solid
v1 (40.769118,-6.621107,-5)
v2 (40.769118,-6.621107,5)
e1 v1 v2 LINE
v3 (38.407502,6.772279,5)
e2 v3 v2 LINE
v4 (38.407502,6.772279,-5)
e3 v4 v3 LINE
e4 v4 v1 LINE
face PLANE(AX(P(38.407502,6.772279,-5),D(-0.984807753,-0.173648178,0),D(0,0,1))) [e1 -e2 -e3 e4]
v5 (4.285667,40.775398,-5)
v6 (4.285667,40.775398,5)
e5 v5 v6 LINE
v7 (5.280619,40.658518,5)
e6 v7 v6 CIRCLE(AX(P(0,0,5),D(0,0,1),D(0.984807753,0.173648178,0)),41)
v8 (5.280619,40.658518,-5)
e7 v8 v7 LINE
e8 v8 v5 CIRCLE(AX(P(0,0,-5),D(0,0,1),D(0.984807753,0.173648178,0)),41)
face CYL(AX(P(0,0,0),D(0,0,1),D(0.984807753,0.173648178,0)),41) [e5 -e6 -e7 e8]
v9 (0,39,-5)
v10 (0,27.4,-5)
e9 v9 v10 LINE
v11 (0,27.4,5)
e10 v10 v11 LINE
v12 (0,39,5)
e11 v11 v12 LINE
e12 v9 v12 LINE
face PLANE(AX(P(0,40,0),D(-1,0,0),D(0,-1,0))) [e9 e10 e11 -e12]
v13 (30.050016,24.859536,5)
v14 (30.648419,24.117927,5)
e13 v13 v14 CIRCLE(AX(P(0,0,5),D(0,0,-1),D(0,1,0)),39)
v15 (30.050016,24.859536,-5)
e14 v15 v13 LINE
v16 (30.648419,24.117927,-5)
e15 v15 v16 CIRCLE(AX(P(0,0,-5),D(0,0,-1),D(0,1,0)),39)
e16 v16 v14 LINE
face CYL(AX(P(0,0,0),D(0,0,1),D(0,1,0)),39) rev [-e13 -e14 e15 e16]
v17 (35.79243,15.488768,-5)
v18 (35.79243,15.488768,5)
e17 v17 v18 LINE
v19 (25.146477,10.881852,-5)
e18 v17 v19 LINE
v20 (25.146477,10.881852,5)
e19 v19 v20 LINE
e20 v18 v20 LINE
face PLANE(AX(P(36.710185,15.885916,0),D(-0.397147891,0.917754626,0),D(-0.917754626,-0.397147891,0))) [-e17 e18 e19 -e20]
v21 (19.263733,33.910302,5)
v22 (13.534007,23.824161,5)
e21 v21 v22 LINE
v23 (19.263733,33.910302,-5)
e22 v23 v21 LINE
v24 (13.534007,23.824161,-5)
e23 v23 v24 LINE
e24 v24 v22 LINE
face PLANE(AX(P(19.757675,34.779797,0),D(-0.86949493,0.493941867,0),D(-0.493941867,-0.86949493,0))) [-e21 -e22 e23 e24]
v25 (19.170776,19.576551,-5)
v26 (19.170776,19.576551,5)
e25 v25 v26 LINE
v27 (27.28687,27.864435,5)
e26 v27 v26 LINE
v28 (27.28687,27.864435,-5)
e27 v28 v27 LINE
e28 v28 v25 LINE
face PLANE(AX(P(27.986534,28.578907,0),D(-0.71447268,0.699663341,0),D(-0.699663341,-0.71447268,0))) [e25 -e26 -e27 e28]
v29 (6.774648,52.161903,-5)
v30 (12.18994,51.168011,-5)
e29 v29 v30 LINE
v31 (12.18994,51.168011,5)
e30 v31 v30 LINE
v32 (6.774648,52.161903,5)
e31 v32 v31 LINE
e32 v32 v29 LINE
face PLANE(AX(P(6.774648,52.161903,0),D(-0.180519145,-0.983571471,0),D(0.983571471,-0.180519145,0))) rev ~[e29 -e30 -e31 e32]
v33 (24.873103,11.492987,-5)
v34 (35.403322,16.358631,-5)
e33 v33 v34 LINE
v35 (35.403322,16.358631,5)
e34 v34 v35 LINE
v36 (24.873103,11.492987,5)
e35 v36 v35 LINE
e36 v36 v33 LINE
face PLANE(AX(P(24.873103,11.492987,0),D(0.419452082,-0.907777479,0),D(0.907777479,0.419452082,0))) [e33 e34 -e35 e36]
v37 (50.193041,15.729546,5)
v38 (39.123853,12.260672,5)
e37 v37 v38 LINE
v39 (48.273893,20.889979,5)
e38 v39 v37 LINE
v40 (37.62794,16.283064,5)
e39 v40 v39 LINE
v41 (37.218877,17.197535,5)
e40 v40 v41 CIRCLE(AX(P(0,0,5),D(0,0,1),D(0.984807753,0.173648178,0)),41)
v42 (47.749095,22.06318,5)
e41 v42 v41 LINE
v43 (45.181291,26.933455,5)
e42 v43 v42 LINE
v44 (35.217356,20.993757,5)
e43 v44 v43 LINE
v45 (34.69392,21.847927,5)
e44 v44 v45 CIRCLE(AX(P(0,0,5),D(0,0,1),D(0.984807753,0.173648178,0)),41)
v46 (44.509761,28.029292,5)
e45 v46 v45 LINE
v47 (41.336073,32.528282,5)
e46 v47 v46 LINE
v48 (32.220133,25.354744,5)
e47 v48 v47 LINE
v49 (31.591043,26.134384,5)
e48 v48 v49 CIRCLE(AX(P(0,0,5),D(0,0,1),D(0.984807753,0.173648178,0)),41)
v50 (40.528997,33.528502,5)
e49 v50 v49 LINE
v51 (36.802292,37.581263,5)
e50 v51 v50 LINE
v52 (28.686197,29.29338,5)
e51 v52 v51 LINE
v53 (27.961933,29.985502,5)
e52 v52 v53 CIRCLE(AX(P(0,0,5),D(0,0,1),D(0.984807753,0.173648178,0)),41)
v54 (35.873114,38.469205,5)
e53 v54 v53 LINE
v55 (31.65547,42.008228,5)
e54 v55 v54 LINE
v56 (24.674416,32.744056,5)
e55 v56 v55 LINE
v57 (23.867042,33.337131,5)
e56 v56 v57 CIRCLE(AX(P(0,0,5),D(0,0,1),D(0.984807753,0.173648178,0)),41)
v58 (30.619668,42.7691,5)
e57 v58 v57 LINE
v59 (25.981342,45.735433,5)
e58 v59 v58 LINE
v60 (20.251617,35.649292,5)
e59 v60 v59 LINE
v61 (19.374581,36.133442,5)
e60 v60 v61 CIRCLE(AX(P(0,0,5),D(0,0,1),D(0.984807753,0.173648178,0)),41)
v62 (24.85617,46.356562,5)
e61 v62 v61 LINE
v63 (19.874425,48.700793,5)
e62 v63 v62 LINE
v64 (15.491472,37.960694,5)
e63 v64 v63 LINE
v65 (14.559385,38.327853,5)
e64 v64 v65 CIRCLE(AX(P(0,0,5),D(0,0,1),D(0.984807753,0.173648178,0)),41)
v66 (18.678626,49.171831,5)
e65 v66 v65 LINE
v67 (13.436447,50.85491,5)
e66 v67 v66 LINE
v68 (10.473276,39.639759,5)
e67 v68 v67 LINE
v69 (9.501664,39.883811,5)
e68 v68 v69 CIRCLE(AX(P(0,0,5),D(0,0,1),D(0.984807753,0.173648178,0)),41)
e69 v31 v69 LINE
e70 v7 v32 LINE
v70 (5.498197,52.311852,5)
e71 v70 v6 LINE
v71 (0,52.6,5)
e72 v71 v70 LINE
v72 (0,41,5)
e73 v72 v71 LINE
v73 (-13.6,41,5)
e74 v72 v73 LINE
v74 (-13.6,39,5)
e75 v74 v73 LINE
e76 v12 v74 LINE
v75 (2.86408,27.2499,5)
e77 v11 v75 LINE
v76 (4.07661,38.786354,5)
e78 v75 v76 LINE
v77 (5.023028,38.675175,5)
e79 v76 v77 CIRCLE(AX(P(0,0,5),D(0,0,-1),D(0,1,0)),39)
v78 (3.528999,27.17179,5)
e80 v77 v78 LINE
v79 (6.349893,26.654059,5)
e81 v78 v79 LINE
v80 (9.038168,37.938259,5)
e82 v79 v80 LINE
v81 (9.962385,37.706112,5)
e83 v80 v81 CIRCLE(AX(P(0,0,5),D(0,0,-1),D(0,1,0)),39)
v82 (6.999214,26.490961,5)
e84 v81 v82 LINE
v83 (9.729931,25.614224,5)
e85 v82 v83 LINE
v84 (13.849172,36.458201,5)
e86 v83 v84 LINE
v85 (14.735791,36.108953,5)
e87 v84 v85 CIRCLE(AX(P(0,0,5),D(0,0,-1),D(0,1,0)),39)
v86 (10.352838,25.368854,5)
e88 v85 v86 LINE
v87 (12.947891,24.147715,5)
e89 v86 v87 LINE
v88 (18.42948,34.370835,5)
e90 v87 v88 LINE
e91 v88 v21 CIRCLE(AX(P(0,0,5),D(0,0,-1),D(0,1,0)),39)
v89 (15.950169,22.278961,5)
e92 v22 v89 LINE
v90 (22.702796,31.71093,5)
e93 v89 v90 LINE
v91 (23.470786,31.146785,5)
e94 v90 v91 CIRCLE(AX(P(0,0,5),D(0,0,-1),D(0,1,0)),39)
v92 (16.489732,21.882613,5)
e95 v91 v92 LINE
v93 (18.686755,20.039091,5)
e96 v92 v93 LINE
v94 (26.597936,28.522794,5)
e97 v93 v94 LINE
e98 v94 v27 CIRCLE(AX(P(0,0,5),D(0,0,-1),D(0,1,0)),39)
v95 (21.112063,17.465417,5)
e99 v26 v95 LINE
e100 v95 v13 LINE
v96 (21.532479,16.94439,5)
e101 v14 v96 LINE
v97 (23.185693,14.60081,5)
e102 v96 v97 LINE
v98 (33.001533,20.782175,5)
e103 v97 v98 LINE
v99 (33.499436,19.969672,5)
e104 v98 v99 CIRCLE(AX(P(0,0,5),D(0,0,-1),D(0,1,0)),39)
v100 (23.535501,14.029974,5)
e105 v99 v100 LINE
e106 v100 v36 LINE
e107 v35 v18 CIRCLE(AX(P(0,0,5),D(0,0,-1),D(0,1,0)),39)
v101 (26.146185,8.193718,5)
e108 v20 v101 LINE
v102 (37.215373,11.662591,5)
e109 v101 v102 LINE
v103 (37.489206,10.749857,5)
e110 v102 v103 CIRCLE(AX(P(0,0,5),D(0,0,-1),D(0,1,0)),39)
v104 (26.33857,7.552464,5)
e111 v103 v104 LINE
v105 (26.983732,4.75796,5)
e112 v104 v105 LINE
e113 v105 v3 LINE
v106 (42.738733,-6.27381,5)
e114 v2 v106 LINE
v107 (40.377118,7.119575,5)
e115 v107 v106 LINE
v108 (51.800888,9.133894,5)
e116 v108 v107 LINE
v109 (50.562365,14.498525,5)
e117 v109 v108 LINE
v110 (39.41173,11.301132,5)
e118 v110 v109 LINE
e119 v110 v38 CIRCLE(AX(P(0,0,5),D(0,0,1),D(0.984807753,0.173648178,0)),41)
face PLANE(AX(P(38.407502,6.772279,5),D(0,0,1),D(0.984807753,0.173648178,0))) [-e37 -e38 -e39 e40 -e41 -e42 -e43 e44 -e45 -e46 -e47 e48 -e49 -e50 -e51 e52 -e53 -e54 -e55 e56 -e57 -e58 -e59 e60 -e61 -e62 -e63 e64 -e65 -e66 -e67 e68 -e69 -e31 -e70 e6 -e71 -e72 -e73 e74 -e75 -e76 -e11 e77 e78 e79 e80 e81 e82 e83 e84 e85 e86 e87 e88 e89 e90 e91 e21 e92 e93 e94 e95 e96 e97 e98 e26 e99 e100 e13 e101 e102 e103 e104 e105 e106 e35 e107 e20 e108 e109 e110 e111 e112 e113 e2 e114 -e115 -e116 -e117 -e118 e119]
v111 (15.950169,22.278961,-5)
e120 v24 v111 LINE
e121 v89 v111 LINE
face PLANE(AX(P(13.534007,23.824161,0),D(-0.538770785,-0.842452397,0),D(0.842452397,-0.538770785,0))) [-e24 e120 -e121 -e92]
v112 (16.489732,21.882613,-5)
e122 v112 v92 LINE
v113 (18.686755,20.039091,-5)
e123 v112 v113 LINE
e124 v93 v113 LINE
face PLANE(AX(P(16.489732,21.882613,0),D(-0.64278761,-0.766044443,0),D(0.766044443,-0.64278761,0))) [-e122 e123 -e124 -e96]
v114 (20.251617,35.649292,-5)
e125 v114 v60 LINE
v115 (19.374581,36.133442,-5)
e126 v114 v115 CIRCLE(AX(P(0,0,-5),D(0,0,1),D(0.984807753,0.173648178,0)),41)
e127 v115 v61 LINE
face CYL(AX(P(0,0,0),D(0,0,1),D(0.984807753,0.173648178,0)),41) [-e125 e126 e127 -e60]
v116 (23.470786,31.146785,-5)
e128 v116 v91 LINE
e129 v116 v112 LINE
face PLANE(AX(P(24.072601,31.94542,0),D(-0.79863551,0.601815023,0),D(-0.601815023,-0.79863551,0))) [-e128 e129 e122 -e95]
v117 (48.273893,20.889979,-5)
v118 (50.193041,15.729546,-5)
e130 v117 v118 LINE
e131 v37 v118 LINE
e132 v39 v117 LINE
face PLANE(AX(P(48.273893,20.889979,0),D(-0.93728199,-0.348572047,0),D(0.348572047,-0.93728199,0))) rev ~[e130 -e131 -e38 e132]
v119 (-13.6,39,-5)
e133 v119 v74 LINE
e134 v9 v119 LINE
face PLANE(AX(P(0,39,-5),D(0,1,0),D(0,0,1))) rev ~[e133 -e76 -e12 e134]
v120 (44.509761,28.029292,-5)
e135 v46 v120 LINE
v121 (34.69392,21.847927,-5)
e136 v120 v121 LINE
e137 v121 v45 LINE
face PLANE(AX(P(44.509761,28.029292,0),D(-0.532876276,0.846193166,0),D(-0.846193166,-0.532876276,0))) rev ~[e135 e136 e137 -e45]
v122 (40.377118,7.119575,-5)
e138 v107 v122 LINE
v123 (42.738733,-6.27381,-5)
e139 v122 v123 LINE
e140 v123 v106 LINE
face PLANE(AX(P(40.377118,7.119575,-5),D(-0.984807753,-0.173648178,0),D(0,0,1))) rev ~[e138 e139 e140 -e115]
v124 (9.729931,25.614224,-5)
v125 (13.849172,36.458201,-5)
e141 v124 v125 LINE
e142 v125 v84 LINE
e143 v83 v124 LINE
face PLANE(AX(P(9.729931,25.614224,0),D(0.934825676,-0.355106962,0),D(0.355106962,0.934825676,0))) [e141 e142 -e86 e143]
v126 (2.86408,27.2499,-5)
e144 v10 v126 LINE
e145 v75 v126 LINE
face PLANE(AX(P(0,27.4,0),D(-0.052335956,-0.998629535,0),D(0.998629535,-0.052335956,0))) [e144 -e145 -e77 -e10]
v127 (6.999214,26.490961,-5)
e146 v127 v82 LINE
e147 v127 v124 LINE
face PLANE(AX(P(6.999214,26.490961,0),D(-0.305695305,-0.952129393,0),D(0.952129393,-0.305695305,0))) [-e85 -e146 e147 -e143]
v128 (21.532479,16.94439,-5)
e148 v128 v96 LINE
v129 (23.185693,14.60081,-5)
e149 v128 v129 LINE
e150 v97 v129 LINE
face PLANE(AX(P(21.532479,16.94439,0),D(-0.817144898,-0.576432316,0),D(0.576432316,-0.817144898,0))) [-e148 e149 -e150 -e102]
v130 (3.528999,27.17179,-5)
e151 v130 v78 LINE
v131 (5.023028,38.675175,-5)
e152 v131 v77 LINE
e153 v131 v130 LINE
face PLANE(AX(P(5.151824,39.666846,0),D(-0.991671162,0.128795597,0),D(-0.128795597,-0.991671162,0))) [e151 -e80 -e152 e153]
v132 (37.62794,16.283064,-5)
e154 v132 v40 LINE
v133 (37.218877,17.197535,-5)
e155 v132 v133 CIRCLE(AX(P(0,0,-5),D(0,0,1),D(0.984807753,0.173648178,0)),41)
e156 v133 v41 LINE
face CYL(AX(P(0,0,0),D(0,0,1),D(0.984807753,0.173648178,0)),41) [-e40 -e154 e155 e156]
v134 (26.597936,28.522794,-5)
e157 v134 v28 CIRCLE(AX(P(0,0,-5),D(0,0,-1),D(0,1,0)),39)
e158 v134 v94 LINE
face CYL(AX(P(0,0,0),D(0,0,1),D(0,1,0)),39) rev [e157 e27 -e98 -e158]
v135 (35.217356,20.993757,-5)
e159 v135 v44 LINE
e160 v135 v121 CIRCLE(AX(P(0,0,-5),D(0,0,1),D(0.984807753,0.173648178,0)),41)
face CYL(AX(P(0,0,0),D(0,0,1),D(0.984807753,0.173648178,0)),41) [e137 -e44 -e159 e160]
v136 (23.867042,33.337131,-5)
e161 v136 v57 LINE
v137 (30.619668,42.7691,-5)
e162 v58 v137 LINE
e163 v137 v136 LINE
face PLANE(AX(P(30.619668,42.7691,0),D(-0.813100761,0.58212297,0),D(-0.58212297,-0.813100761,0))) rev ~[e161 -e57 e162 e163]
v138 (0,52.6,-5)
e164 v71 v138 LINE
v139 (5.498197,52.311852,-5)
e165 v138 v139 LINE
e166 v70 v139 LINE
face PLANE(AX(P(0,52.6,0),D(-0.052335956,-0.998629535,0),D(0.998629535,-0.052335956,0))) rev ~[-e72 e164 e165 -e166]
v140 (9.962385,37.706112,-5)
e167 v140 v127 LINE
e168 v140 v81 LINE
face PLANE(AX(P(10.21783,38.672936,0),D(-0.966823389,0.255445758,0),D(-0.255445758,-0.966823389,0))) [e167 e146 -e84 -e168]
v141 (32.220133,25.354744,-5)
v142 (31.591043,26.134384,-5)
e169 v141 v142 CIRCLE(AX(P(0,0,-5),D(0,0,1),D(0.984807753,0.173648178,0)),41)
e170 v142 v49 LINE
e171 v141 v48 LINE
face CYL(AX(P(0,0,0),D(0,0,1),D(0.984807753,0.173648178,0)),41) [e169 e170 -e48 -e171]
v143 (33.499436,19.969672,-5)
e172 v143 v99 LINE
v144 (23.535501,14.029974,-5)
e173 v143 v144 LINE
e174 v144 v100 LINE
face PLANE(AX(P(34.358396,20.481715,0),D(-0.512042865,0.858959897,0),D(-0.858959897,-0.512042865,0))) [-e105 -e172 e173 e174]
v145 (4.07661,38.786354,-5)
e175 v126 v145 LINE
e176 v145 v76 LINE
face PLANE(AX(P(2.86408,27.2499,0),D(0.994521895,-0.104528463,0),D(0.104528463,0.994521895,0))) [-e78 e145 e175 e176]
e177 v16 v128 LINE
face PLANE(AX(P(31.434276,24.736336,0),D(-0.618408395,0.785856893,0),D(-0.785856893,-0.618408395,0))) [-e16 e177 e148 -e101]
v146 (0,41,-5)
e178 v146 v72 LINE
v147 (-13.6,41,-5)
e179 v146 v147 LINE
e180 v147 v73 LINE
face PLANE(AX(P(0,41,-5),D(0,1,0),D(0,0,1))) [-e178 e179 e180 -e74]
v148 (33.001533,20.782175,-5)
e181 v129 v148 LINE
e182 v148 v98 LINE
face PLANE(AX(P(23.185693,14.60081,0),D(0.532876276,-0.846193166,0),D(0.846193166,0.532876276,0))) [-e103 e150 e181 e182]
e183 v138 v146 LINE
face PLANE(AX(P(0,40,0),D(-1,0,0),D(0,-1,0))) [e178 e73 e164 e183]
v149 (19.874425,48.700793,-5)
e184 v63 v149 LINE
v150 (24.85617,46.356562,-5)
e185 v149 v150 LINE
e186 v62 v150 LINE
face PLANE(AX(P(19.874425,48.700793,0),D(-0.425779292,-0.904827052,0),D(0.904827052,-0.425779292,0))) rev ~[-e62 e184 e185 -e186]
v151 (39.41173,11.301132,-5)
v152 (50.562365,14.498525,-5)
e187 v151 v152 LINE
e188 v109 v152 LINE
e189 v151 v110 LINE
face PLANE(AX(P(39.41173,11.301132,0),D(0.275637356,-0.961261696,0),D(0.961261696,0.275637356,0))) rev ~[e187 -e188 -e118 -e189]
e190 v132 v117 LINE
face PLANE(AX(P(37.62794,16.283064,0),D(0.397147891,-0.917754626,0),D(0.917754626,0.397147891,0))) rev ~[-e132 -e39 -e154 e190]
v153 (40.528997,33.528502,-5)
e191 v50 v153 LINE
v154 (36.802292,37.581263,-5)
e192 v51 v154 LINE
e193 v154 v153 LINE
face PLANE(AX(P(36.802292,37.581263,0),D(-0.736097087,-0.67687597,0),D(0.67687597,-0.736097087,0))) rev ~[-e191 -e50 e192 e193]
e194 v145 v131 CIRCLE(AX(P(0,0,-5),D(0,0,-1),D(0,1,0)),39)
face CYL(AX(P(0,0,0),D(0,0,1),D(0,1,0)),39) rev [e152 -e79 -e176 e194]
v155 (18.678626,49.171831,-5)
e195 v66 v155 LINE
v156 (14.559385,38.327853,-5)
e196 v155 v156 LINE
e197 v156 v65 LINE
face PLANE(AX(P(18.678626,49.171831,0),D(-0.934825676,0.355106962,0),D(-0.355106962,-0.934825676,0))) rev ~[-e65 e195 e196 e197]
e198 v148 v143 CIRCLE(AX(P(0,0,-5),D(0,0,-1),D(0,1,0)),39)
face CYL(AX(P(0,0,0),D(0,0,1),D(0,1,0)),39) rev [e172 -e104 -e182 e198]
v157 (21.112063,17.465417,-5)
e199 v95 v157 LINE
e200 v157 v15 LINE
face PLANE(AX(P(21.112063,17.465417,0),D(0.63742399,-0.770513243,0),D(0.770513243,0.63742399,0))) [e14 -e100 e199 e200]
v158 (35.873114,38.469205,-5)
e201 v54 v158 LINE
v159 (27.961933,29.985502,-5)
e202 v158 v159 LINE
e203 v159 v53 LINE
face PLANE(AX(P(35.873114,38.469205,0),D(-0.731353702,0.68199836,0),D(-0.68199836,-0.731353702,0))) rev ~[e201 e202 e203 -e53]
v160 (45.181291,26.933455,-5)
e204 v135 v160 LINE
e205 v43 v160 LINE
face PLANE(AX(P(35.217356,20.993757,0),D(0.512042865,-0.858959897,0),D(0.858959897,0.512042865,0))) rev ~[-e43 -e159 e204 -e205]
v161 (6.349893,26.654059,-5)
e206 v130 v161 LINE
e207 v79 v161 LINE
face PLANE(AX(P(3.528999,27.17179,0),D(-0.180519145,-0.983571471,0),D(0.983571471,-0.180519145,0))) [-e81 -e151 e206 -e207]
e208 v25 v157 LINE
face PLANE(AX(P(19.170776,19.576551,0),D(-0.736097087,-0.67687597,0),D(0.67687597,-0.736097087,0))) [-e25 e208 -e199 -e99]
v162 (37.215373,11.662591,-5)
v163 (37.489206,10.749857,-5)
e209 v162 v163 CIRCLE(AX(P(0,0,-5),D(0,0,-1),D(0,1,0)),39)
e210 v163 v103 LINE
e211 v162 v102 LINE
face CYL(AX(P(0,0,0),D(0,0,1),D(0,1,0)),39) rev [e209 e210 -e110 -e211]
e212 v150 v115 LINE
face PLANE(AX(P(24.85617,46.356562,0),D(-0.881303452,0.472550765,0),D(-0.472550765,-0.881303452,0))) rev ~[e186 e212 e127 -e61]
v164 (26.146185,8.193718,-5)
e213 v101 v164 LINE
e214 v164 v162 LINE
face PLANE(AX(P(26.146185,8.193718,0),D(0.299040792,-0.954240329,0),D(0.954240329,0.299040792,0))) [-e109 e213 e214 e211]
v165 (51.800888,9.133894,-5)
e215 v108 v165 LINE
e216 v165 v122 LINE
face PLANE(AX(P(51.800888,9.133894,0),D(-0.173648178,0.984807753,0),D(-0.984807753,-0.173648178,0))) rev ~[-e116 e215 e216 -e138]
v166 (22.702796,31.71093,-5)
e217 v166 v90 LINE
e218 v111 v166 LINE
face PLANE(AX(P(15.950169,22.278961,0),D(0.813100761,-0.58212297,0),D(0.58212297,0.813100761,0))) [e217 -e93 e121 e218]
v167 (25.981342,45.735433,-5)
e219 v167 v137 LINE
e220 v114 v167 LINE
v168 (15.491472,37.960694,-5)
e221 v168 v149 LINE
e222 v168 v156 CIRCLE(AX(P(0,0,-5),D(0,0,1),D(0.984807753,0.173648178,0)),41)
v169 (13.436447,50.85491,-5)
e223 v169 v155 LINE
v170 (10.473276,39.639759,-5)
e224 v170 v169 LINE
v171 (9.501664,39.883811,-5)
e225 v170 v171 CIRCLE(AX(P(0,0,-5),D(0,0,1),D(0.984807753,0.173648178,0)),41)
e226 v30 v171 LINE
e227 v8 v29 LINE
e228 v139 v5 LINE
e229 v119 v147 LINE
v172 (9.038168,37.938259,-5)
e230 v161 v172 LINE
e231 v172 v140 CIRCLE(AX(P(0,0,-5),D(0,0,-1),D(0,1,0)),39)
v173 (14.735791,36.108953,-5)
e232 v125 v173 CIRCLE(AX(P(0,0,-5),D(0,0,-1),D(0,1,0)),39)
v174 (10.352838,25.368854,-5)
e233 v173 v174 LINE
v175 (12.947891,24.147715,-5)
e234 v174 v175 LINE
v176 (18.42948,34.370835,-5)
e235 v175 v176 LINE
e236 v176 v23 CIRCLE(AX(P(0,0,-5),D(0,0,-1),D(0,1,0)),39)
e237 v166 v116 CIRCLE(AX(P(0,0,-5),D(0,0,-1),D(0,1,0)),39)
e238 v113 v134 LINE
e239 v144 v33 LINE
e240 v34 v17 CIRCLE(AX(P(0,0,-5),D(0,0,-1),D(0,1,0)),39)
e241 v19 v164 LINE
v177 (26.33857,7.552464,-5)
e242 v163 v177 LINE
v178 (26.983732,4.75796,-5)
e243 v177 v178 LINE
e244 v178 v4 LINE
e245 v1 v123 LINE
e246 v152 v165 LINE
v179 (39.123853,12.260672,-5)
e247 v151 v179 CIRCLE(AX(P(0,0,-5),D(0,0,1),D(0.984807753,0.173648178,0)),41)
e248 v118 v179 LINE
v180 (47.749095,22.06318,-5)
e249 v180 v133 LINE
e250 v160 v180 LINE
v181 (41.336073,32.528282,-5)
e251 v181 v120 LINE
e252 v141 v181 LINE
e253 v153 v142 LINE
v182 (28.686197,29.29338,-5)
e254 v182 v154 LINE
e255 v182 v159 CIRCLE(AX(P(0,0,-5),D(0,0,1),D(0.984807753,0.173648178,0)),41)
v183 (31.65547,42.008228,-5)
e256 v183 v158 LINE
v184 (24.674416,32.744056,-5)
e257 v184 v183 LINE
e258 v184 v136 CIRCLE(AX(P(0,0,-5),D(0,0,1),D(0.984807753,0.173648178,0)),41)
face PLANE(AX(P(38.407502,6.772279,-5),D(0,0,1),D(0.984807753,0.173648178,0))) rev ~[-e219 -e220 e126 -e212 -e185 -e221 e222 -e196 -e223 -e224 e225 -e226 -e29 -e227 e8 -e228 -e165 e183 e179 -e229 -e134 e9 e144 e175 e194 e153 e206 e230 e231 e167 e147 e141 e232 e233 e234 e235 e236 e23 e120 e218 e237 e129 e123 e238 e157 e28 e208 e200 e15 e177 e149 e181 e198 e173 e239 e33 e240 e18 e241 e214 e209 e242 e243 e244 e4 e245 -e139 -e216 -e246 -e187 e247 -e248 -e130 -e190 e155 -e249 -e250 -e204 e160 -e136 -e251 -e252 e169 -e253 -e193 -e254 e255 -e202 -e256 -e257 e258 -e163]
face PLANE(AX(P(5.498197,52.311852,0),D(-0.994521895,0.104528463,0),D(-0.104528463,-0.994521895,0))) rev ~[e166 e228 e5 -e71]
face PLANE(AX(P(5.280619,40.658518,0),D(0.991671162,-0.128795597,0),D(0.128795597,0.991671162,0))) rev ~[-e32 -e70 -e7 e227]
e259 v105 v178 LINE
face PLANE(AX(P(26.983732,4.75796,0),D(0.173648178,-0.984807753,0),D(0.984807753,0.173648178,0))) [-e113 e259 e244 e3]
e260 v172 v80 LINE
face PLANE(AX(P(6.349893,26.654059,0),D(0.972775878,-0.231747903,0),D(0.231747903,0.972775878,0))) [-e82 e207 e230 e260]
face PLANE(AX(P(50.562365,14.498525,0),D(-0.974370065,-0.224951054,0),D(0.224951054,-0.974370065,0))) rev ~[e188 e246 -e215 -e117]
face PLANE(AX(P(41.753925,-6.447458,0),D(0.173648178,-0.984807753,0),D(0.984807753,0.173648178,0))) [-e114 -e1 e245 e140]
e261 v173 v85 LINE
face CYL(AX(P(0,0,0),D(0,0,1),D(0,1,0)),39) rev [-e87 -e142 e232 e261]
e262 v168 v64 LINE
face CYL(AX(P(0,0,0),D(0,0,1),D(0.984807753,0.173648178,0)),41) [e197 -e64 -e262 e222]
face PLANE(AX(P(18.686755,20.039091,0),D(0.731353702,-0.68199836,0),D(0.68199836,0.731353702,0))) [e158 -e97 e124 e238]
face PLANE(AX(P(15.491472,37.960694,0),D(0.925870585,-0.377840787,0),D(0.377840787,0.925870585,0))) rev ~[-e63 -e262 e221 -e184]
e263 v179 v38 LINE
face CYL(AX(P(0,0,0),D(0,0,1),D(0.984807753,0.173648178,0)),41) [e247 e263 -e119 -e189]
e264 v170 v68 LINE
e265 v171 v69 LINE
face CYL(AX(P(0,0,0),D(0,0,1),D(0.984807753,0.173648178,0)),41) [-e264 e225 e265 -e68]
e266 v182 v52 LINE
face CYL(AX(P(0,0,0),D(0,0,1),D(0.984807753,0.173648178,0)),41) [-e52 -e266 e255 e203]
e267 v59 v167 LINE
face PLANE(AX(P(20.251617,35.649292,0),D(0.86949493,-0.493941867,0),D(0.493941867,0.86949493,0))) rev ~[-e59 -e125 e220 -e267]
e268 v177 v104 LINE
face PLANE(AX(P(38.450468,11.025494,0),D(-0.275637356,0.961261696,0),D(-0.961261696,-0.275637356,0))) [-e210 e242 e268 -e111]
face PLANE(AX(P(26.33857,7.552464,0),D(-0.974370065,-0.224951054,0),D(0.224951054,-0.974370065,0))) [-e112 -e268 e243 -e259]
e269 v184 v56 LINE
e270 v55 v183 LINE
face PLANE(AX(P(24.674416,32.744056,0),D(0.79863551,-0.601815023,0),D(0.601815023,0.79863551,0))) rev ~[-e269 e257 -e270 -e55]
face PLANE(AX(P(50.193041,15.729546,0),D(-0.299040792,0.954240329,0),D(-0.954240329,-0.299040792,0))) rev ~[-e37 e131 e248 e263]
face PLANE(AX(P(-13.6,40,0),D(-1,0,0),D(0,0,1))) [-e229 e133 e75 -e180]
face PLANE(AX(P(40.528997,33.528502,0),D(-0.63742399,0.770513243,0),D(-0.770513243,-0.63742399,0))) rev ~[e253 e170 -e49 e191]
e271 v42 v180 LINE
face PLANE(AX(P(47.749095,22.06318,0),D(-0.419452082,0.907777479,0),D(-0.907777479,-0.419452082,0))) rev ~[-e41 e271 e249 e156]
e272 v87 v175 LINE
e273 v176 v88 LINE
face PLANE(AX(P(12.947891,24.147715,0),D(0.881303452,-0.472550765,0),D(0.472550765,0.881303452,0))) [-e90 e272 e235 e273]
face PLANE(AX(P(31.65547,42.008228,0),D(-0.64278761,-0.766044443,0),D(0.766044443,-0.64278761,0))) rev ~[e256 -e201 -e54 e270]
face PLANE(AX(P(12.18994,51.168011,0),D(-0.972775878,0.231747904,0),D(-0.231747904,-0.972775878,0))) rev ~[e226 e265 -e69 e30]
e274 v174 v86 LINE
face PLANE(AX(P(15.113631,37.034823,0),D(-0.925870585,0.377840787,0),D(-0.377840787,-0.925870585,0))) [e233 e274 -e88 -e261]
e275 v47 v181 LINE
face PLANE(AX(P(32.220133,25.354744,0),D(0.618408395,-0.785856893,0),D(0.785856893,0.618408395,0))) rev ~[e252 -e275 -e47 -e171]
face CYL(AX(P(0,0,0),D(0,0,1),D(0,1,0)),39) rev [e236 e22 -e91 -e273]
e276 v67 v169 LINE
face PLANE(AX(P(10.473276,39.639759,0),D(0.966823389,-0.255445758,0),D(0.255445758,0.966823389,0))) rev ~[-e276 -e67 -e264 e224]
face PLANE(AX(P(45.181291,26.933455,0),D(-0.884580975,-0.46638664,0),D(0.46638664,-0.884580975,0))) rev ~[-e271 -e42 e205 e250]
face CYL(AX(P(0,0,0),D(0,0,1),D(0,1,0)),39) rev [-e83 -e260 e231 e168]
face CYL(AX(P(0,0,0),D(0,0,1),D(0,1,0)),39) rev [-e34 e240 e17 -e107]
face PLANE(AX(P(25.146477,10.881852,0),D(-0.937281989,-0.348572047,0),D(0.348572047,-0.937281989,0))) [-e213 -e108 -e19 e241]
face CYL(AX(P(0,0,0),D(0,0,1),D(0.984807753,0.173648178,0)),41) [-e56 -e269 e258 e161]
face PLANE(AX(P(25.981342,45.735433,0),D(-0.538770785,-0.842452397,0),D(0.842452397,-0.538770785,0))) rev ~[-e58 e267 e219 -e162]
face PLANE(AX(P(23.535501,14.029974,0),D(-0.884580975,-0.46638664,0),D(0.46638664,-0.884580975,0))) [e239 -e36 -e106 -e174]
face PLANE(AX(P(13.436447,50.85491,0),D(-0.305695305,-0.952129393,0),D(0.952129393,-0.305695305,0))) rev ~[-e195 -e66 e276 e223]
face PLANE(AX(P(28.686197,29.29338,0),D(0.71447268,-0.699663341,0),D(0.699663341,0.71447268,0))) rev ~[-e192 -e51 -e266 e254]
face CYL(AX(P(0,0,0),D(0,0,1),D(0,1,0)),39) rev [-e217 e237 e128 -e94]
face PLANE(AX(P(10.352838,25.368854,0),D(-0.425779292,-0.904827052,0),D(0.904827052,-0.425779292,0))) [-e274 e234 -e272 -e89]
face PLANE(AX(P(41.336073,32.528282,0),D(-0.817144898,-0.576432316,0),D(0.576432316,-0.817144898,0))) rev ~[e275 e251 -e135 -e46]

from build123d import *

# Parameters (mm, degrees)
AUFSATZ_LINEAR_AUSTRAGEN1_DEPTH = 5
AUFSATZ_LINEAR_AUSTRAGEN2_DEPTH = 5
KREISMUSTER1_COUNT              = 11
KREISMUSTER1_ANGLE              = 74
AUFSATZ_LINEAR_AUSTRAGEN4_DEPTH = 5
AUFSATZ_LINEAR_AUSTRAGEN3_DEPTH = 5
KREISMUSTER4_COUNT              = 11
KREISMUSTER4_ANGLE              = 74
SKIZZE5_W                       = 10
SKIZZE5_H                       = 2
AUFSATZ_LINEAR_AUSTRAGEN5_DEPTH = 13.6
SKIZZE6_W                       = 2
SKIZZE6_H                       = 10
AUFSATZ_LINEAR_AUSTRAGEN6_DEPTH = 13.6


with BuildPart() as part:
    # Skizze1 → Aufsatz-Linear austragen1 (new, symmetric)
    with BuildSketch(Plane.XY):
        with BuildLine():
            Line((0, 41), (0, 40))
            ThreePointArc((0, 40), (25.711504387, 30.641777725), (39.39231012, 6.945927107))
            Line((39.39231012, 6.945927107), (40.377117874, 7.119575284))
            ThreePointArc((40.377117874, 7.119575284), (26.354291997, 31.407822168), (0, 41))
        make_face()
    extrude(amount=AUFSATZ_LINEAR_AUSTRAGEN1_DEPTH, both=True)

    # Skizze2 → Aufsatz-Linear austragen2 (add, symmetric)
    with BuildSketch(Plane.XY):
        with BuildLine():
            Line((0, 52.6), (0, 41))
            ThreePointArc((0, 41), (2.145774206, 40.943810925), (4.285666994, 40.77539771))
            Line((4.285666994, 40.77539771), (5.498197168, 52.311851696))
            Line((5.498197168, 52.311851696), (0, 52.6))
        make_face()
    aufsatz_linear_austragen2 = extrude(amount=AUFSATZ_LINEAR_AUSTRAGEN2_DEPTH, both=True)

    # Kreismuster1: Aufsatz-Linear austragen2 ×11 about axis
    kreismuster1_axis = Axis((0, 0, -5.5), (0, 0, -1))
    for i in range(1, KREISMUSTER1_COUNT):
        add(aufsatz_linear_austragen2.rotate(kreismuster1_axis, i * KREISMUSTER1_ANGLE / (KREISMUSTER1_COUNT - 1)))

    # Skizze4 → Aufsatz-Linear austragen4 (add, symmetric)
    with BuildSketch(Plane.XY):
        with BuildLine():
            Line((0, 40), (0, 39))
            ThreePointArc((0, 39), (25.068716778, 29.875733282), (38.407502367, 6.772278929))
            Line((38.407502367, 6.772278929), (39.39231012, 6.945927107))
            ThreePointArc((39.39231012, 6.945927107), (25.711504387, 30.641777725), (0, 40))
        make_face()
    extrude(amount=AUFSATZ_LINEAR_AUSTRAGEN4_DEPTH, both=True)

    # Skizze3 → Aufsatz-Linear austragen3 (add, symmetric)
    with BuildSketch(Plane.XY):
        Polygon((4.181138531, 39.780875815), (0, 40), (0, 27.4), (2.864079894, 27.249899933), align=None)
    aufsatz_linear_austragen3 = extrude(amount=AUFSATZ_LINEAR_AUSTRAGEN3_DEPTH, both=True)

    # Kreismuster4: Aufsatz-Linear austragen3 ×11 about axis
    kreismuster4_axis = Axis((0, 0, -5.5), (0, 0, -1))
    for i in range(1, KREISMUSTER4_COUNT):
        add(aufsatz_linear_austragen3.rotate(kreismuster4_axis, i * KREISMUSTER4_ANGLE / (KREISMUSTER4_COUNT - 1)))

    # Skizze5 → Aufsatz-Linear austragen5 (add)
    with BuildSketch(Plane.ZY):
        with Locations((0, 40)):
            Rectangle(SKIZZE5_W, SKIZZE5_H)
    extrude(amount=AUFSATZ_LINEAR_AUSTRAGEN5_DEPTH)

    # Skizze6 → Aufsatz-Linear austragen6 (add)
    with BuildSketch(Plane(origin=(0, 0, 0), x_dir=(0.9848077530122074, 0.1736481776669343, 0), z_dir=(0.1736481776669343, -0.9848077530122074, 0))):
        with Locations((40, 0)):
            Rectangle(SKIZZE6_W, SKIZZE6_H)
    extrude(amount=AUFSATZ_LINEAR_AUSTRAGEN6_DEPTH)


solid = part.part
